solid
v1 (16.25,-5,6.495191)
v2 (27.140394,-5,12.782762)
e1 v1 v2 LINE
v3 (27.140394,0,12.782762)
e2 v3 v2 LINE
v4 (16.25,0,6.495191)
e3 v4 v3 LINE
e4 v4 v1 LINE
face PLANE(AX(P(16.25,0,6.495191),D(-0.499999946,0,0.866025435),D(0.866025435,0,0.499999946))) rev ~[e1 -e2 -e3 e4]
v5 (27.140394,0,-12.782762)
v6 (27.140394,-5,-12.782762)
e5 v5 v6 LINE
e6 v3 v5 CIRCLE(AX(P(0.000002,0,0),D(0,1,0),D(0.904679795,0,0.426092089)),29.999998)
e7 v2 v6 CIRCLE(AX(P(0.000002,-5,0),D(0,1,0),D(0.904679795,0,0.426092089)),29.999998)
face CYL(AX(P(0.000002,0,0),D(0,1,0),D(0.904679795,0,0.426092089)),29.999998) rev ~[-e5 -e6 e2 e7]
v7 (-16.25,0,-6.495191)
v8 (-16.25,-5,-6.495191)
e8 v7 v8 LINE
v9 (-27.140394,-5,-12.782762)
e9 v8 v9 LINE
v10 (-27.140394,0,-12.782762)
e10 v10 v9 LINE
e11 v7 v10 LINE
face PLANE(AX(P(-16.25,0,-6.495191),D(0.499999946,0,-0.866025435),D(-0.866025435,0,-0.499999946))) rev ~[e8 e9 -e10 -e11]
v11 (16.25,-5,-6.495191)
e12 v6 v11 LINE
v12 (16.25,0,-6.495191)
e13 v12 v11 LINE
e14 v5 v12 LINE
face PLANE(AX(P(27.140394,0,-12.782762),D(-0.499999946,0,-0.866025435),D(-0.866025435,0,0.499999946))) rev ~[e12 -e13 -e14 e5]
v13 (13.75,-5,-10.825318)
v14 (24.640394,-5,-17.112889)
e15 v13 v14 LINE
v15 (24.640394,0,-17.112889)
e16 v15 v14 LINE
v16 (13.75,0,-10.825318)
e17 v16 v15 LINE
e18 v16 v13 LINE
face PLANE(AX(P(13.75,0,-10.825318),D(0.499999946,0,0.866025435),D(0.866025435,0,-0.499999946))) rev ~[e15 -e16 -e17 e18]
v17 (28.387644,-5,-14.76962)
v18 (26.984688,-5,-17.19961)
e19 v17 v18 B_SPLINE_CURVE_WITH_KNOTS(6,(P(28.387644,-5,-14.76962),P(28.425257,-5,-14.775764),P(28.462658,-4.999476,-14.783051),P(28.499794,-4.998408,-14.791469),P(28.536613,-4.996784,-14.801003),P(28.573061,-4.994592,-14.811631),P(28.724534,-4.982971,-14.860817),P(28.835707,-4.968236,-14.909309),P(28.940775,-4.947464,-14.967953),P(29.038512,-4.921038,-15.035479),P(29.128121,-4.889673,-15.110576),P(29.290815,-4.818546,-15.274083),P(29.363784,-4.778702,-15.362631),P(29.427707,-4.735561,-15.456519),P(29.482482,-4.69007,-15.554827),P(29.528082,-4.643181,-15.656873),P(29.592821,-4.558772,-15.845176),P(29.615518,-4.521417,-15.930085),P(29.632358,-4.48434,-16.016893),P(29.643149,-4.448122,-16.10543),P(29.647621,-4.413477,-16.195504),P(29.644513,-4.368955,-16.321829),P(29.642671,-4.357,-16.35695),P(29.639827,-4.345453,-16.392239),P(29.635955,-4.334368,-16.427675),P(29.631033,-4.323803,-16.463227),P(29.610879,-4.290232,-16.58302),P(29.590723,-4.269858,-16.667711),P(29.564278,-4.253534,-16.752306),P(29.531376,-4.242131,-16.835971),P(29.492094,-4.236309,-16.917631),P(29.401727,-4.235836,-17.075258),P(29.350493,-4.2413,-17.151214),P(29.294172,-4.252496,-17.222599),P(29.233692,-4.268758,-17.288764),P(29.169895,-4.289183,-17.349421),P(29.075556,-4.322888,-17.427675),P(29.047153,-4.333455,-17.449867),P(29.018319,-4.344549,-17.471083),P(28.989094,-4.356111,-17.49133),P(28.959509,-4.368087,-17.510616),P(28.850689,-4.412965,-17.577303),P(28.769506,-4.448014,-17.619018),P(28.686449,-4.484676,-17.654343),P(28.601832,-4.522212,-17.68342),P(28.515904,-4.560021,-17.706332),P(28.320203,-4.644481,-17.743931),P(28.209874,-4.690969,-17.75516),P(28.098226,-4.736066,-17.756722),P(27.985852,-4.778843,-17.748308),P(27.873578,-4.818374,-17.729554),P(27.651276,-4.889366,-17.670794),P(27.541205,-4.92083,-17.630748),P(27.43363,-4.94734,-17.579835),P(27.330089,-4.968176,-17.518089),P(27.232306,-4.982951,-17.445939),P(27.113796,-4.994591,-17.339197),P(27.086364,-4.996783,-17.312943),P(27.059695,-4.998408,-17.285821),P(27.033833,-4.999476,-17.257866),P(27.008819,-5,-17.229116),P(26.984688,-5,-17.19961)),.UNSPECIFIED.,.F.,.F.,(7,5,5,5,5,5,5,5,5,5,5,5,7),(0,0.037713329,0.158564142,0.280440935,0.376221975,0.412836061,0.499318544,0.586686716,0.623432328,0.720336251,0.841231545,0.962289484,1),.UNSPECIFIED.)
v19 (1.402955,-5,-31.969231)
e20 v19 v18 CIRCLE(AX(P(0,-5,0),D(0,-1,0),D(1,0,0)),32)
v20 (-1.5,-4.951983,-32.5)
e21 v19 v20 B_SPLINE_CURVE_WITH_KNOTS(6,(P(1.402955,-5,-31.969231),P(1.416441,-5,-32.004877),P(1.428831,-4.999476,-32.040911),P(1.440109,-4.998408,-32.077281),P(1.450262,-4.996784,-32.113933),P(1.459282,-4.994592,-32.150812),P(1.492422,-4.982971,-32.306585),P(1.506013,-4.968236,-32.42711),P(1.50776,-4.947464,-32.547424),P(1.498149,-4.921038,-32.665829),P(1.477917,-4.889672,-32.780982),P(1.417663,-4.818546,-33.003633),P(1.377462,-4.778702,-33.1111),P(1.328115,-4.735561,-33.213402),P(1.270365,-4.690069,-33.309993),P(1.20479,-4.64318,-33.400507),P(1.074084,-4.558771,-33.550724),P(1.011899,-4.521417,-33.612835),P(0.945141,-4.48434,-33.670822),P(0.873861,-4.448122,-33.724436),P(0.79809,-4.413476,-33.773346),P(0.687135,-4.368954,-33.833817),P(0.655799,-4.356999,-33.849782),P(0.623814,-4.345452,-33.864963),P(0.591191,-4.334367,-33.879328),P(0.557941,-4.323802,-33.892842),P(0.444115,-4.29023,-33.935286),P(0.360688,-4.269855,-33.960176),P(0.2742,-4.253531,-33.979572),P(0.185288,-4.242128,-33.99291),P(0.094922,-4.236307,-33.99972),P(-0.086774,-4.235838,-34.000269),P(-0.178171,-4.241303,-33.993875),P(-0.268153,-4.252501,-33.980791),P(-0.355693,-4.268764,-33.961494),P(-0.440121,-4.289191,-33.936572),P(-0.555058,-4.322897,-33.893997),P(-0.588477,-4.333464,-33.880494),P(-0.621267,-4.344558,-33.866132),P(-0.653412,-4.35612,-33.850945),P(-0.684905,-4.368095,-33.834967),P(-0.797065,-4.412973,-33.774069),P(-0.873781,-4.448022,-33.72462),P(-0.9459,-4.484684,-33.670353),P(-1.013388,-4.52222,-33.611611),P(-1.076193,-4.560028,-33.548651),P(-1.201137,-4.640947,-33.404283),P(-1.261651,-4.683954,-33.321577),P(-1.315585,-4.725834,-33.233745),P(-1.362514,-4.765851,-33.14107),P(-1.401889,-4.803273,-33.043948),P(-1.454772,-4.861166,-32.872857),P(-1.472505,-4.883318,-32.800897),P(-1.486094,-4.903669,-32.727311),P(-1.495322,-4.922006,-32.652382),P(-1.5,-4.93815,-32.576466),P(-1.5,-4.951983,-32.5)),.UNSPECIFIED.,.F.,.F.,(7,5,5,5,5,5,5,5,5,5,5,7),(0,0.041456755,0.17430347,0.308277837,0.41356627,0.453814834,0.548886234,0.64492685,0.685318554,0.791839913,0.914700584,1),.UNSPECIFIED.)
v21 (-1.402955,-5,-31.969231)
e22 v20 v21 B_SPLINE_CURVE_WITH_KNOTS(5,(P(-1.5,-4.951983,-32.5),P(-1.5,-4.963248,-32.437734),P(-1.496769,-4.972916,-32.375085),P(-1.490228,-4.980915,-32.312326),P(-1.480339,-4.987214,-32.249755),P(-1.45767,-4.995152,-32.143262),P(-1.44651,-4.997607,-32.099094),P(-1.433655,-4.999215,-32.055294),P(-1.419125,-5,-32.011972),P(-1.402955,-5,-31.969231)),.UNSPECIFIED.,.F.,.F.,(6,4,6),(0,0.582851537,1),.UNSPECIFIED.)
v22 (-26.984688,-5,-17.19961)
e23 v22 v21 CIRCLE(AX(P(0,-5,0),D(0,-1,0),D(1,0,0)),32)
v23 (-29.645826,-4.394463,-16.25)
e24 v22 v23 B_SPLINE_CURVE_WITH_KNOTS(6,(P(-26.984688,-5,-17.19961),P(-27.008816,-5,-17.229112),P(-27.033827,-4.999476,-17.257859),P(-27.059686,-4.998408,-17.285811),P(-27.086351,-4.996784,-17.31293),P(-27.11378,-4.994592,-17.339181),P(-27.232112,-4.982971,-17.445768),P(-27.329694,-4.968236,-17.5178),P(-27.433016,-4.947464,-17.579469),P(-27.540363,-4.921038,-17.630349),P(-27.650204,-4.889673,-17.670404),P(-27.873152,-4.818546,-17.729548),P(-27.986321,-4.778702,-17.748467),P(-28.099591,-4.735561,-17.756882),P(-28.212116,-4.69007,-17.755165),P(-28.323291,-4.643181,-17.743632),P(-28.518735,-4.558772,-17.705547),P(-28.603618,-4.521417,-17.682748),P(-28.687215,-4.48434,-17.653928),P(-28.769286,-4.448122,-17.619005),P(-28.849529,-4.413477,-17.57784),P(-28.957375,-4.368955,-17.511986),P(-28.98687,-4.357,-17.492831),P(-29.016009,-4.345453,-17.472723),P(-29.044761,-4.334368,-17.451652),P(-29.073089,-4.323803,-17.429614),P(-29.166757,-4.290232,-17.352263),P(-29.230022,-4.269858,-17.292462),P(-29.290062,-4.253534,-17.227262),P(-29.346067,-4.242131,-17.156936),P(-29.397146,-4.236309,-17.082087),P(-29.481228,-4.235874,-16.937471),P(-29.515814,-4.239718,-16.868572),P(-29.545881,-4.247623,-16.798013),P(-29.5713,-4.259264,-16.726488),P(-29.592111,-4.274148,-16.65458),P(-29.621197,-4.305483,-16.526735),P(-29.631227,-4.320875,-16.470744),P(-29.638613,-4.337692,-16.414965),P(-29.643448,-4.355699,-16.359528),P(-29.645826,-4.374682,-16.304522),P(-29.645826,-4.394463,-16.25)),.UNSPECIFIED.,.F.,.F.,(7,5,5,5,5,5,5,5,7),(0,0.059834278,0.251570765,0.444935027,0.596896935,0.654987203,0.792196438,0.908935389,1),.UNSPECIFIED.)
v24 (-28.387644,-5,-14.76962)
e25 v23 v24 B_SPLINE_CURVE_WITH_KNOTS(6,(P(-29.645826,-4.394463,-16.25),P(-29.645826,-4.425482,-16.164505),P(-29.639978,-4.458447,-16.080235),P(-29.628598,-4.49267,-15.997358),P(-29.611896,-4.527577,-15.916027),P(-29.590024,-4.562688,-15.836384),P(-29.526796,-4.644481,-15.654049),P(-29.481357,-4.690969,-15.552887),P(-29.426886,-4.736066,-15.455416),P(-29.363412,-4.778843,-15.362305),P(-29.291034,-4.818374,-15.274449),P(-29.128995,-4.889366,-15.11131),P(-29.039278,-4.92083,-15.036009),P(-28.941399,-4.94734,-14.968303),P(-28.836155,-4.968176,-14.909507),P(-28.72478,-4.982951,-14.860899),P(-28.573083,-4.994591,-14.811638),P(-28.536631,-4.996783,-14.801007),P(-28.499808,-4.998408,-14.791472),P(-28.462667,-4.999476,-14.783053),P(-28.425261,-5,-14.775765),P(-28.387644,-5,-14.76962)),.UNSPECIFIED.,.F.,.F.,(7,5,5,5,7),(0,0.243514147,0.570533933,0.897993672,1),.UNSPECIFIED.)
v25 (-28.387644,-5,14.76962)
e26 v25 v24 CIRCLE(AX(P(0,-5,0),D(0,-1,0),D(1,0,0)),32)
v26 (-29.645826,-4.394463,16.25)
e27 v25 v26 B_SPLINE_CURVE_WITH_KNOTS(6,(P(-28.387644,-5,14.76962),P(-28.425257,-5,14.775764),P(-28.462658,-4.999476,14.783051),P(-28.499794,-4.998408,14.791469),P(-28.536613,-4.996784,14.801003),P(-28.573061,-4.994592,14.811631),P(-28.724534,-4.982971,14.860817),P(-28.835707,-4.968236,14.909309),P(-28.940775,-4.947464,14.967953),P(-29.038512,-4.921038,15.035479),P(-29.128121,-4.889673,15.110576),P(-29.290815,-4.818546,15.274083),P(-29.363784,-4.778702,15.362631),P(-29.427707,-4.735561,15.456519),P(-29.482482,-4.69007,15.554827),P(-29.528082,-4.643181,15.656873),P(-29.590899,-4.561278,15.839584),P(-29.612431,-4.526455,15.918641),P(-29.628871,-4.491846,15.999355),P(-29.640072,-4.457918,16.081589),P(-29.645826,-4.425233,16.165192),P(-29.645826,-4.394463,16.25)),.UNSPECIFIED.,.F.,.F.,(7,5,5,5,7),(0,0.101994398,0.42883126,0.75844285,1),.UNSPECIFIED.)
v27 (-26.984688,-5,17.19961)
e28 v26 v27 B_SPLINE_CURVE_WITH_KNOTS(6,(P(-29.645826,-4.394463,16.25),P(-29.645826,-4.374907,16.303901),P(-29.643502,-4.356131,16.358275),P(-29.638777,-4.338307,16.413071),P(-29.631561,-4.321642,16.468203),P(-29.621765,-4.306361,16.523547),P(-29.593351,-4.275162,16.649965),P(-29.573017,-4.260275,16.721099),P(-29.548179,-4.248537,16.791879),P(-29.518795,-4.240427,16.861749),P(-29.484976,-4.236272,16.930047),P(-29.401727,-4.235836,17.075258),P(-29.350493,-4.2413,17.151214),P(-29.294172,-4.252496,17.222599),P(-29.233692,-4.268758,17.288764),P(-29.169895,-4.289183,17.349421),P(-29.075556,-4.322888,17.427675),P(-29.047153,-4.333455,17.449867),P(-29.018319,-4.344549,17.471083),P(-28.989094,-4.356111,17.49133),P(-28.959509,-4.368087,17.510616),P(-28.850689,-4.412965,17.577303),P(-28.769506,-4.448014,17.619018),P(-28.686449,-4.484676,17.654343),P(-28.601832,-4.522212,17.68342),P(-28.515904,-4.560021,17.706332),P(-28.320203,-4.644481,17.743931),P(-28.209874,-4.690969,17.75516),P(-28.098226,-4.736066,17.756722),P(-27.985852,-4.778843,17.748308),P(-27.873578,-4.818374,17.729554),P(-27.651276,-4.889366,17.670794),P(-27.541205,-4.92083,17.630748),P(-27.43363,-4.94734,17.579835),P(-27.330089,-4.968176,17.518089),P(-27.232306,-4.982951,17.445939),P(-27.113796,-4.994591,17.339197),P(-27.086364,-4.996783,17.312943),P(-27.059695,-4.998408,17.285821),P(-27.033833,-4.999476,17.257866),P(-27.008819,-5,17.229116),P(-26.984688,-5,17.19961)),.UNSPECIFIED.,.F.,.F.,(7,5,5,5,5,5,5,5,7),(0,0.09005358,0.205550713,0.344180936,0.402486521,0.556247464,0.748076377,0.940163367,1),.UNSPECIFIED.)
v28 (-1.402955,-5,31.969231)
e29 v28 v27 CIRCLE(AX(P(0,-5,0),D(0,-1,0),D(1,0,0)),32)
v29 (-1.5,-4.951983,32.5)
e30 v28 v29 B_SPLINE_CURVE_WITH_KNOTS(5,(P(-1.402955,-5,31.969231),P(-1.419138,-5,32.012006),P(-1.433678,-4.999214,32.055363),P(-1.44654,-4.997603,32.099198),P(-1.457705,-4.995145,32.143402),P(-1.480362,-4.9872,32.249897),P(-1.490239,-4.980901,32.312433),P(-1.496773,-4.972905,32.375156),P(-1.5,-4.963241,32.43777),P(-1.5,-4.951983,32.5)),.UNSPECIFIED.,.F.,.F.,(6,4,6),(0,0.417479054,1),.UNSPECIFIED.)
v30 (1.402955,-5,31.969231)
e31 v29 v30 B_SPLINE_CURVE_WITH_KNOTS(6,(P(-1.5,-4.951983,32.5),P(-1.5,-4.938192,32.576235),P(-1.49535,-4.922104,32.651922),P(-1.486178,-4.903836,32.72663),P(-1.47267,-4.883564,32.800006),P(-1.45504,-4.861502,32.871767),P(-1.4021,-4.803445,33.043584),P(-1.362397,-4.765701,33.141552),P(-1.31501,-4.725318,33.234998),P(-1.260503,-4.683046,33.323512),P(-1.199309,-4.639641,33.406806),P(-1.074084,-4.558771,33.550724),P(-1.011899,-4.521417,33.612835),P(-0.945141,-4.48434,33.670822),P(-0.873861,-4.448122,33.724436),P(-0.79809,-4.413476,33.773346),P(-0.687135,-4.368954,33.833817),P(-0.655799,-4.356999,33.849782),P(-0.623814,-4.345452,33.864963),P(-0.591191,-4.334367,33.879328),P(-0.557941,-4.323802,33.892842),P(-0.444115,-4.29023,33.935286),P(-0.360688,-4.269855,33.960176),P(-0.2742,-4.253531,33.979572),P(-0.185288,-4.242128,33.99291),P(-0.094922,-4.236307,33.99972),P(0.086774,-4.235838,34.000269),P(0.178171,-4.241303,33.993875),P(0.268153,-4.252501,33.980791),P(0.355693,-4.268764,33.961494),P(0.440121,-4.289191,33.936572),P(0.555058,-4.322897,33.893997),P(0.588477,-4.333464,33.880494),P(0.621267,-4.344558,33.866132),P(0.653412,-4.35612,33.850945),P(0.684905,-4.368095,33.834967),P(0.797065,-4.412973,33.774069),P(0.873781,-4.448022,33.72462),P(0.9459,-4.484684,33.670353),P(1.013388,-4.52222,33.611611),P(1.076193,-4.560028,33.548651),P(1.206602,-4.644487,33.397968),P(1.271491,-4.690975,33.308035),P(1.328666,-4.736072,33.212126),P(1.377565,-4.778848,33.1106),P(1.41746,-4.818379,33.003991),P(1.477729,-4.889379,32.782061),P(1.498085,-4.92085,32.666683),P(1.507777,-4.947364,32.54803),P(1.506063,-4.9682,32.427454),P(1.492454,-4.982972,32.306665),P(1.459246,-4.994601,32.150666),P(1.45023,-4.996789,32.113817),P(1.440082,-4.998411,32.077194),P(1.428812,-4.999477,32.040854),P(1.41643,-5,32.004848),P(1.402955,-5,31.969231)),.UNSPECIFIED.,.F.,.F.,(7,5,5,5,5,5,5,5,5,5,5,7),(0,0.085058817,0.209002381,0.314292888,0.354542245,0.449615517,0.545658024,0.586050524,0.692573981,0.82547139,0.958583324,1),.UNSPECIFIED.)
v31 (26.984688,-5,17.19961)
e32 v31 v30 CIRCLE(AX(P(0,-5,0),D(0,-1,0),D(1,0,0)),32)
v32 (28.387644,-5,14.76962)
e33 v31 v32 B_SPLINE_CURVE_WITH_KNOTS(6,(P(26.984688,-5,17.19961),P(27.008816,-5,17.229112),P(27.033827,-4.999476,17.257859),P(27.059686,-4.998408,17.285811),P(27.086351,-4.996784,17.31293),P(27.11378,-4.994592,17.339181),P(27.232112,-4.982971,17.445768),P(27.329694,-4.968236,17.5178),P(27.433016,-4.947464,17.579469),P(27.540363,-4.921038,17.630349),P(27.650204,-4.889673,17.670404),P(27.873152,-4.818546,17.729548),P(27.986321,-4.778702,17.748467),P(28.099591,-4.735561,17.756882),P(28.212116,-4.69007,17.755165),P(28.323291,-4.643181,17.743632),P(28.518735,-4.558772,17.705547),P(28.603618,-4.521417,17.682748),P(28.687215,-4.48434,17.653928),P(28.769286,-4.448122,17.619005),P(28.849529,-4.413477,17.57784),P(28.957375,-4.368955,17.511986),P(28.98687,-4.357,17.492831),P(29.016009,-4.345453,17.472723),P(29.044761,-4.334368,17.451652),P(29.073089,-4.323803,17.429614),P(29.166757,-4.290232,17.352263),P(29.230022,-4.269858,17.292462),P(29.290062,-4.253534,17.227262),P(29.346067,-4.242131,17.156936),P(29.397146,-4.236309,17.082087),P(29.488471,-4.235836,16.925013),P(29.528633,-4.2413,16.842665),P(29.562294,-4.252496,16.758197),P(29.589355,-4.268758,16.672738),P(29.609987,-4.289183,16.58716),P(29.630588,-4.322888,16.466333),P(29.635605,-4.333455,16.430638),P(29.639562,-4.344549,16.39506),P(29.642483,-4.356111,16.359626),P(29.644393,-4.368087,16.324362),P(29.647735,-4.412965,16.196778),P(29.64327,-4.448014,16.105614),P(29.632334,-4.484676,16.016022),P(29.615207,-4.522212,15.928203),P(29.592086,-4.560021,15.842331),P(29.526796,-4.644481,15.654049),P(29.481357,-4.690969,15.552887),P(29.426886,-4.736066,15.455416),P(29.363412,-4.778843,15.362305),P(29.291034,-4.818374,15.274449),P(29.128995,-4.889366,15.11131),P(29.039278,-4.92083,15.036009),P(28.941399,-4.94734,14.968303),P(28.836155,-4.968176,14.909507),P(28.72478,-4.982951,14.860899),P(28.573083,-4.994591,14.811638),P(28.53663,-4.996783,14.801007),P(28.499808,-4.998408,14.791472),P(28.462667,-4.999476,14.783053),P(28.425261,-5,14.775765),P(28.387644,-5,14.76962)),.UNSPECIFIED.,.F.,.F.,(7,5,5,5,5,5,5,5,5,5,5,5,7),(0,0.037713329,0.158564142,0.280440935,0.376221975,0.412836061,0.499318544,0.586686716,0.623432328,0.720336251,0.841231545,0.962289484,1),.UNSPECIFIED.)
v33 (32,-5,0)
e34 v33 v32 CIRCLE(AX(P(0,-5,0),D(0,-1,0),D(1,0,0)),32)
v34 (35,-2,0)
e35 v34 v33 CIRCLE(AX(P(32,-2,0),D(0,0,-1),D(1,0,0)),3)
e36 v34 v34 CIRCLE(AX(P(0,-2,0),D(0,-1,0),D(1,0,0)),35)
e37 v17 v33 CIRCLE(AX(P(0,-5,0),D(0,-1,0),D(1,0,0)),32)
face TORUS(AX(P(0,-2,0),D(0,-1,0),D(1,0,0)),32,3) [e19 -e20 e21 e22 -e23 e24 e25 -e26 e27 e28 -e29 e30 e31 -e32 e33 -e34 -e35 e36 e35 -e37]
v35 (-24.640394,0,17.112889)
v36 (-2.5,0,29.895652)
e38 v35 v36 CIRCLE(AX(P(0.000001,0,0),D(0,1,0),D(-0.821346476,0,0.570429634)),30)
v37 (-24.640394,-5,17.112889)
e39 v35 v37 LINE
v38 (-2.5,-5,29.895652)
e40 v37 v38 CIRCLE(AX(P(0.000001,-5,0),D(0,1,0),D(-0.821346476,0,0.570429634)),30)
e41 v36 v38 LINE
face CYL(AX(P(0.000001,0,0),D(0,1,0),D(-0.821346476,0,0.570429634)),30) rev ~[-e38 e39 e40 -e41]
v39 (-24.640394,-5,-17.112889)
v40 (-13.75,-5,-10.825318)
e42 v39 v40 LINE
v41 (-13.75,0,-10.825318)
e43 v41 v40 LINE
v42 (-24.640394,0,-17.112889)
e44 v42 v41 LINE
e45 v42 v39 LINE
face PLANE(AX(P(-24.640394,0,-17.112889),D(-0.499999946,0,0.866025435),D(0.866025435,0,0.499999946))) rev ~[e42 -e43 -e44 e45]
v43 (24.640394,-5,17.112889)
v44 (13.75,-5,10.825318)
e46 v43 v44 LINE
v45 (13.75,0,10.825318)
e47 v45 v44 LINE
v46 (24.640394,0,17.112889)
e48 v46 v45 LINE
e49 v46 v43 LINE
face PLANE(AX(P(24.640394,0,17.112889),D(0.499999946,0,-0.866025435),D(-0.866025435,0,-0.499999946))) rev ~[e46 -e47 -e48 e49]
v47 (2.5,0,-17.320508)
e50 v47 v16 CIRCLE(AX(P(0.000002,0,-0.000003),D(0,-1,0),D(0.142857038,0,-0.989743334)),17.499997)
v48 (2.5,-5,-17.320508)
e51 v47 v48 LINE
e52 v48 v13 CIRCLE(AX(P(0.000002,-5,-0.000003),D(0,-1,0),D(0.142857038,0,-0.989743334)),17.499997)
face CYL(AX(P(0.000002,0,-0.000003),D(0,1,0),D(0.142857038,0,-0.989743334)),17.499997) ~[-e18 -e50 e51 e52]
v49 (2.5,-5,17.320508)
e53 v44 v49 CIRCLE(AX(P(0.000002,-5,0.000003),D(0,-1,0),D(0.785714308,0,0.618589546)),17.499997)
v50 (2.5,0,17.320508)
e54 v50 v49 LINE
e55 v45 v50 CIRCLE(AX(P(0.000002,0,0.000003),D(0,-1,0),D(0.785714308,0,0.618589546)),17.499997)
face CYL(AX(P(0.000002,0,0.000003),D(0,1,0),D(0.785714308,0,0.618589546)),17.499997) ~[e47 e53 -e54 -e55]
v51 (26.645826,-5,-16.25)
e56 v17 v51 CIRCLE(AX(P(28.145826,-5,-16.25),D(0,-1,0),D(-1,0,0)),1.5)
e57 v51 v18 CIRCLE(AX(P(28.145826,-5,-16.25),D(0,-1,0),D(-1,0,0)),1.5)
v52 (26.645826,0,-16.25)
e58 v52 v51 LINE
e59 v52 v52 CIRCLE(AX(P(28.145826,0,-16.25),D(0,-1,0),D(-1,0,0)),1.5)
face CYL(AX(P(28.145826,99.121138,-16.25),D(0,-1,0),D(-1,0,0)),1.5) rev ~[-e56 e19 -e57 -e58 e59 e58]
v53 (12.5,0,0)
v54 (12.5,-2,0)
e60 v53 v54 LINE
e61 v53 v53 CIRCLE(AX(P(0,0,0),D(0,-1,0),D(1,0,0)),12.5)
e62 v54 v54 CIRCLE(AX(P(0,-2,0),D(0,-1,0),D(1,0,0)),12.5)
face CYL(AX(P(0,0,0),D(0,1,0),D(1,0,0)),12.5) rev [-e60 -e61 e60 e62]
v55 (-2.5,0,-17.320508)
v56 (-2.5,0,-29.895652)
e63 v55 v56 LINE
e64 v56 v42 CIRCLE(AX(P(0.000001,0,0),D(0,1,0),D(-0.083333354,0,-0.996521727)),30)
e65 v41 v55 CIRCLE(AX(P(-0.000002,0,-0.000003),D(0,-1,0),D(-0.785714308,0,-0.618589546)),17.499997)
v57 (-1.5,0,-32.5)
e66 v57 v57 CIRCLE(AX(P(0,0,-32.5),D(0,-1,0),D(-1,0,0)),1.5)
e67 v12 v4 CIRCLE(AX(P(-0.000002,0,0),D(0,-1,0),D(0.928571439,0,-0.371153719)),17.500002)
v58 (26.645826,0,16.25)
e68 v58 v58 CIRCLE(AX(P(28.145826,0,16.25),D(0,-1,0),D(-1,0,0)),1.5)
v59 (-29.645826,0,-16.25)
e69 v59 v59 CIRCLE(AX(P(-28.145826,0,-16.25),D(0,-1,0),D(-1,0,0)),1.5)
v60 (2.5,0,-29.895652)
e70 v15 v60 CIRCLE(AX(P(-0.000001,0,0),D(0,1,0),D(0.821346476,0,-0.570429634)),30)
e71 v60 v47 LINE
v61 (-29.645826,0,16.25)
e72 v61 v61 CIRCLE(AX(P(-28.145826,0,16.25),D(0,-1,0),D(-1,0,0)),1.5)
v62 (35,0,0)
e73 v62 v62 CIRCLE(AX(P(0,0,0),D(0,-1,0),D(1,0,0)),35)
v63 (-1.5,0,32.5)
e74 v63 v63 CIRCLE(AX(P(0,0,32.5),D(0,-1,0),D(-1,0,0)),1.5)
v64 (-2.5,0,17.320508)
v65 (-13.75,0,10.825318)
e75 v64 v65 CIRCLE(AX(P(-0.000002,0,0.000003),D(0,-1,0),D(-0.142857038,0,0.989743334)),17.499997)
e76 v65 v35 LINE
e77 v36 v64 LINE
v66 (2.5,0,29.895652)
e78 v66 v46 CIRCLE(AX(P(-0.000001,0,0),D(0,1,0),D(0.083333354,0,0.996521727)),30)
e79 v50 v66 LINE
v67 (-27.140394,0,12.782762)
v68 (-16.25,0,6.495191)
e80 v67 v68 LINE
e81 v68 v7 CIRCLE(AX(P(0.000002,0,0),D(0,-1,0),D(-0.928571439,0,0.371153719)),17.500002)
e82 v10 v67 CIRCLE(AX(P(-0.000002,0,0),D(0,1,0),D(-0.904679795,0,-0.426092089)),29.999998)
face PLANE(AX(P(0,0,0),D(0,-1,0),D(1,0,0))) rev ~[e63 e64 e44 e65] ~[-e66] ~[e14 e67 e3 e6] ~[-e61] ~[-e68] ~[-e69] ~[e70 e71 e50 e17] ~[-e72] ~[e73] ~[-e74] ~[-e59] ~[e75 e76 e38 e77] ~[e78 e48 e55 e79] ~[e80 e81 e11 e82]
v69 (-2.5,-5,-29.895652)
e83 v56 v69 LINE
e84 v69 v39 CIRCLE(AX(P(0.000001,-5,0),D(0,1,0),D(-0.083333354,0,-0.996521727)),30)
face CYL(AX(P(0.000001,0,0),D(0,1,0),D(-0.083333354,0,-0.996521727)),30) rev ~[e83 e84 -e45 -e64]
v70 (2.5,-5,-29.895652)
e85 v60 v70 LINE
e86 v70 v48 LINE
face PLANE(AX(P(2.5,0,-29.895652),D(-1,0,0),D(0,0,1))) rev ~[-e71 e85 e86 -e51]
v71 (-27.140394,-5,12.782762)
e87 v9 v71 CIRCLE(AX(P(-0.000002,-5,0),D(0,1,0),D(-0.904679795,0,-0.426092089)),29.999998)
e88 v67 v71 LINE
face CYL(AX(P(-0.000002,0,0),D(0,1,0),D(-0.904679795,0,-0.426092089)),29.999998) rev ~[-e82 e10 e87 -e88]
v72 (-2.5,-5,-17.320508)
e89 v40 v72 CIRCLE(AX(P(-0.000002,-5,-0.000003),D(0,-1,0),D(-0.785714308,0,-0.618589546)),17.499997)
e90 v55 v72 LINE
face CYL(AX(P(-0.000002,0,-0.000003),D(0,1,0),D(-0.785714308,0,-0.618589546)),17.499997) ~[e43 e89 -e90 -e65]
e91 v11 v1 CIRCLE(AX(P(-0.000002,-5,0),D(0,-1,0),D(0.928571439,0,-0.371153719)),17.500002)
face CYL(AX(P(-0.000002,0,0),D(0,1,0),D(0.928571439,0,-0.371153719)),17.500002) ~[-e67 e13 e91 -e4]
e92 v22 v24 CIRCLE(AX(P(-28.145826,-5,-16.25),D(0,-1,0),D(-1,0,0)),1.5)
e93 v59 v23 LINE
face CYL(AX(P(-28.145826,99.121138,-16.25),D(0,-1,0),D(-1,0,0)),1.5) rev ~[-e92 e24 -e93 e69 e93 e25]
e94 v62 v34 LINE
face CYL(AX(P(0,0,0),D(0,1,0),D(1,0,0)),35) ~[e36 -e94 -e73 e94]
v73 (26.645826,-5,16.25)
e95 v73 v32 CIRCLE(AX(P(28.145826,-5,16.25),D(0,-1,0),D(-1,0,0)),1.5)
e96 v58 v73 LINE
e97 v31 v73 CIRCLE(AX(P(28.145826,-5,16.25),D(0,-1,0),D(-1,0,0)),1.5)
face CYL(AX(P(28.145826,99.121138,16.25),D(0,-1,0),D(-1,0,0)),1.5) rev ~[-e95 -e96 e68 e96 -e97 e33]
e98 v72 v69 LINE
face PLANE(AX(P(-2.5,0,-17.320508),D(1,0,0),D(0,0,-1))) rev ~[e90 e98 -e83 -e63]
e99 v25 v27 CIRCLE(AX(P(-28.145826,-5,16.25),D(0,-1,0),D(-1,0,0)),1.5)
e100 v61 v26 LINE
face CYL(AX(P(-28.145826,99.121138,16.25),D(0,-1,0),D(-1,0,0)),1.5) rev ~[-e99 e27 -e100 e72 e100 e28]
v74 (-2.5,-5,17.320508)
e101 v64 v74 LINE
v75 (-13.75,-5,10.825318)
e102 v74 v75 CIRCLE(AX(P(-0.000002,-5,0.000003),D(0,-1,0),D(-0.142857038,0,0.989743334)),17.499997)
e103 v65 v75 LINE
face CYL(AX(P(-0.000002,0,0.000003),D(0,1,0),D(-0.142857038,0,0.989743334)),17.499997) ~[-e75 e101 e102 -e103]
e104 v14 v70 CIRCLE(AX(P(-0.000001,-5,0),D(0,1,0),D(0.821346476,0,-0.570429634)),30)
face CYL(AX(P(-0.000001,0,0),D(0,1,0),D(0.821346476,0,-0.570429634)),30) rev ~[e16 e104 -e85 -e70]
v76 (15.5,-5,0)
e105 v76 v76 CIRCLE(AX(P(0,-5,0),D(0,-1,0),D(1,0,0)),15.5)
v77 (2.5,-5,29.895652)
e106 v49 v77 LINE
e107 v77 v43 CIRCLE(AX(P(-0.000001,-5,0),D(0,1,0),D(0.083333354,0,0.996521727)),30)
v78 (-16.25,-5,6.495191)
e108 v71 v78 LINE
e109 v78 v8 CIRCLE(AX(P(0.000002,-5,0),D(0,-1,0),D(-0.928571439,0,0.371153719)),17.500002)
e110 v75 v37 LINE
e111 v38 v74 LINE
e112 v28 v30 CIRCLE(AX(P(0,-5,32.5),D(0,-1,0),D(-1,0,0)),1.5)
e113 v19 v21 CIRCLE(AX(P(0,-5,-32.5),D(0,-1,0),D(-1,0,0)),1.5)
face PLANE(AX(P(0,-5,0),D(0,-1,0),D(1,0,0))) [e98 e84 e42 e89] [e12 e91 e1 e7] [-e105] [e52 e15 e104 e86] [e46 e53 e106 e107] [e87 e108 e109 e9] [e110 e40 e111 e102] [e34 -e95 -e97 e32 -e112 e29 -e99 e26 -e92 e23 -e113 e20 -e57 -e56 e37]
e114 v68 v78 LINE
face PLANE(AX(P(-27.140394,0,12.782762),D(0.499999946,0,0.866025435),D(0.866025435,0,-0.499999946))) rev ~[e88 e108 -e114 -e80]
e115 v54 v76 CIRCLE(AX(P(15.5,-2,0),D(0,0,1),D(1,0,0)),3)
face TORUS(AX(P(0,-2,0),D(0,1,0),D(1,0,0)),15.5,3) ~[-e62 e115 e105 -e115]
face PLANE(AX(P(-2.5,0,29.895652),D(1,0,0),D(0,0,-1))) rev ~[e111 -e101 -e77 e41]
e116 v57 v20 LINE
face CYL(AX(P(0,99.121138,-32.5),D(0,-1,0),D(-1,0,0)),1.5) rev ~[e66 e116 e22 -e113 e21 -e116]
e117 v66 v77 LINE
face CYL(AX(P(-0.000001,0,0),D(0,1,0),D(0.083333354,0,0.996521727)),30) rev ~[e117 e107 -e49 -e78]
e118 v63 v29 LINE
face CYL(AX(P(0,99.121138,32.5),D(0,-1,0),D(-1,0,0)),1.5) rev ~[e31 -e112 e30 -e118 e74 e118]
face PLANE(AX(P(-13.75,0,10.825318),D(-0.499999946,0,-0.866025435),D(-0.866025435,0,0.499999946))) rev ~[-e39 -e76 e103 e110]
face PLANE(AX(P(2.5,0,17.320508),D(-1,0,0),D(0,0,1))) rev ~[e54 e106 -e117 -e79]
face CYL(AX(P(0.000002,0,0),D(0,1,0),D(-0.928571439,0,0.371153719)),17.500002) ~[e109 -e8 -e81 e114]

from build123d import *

# Parameters (mm, degrees)
F0_R     = 35
F0_R_2   = 12.5
F1_DEPTH = 5
F2_R     = 3
F3_D     = 3


with BuildPart() as f1:
    # F0 (on Front) → F1 (new body)
    with BuildSketch(Plane.XZ):
        Circle(F0_R)
        with BuildLine():
            Line((-24.640394, -17.112889), (-13.75, -10.825318))
            ThreePointArc((-13.75, -10.825318), (-8.75, -15.155445), (-2.5, -17.320508))
            Line((-2.5, -17.320508), (-2.5, -29.895652))
            ThreePointArc((-2.5, -29.895652), (-15, -25.980762), (-24.640394, -17.112889))
        make_face(mode=Mode.SUBTRACT)
        with BuildLine():
            Line((2.5, -29.895652), (2.5, -17.320508))
            ThreePointArc((2.5, -17.320508), (8.75, -15.155445), (13.75, -10.825318))
            Line((13.75, -10.825318), (24.640394, -17.112889))
            ThreePointArc((24.640394, -17.112889), (15, -25.980762), (2.5, -29.895652))
        make_face(mode=Mode.SUBTRACT)
        with BuildLine():
            Line((27.140394, -12.782762), (16.25, -6.495191))
            ThreePointArc((16.25, -6.495191), (17.5, 0), (16.25, 6.495191))
            Line((16.25, 6.495191), (27.140394, 12.782762))
            ThreePointArc((27.140394, 12.782762), (30, 0), (27.140394, -12.782762))
        make_face(mode=Mode.SUBTRACT)
        with BuildLine():
            ThreePointArc((-27.140394, -12.782762), (-30, 0), (-27.140394, 12.782762))
            Line((-27.140394, 12.782762), (-16.25, 6.495191))
            ThreePointArc((-16.25, 6.495191), (-17.5, 0), (-16.25, -6.495191))
            Line((-16.25, -6.495191), (-27.140394, -12.782762))
        make_face(mode=Mode.SUBTRACT)
        with BuildLine():
            Line((-2.5, 29.895652), (-2.5, 17.320508))
            ThreePointArc((-2.5, 17.320508), (-8.75, 15.155445), (-13.75, 10.825318))
            Line((-13.75, 10.825318), (-24.640394, 17.112889))
            ThreePointArc((-24.640394, 17.112889), (-15, 25.980762), (-2.5, 29.895652))
        make_face(mode=Mode.SUBTRACT)
        Circle(F0_R_2, mode=Mode.SUBTRACT)
        with BuildLine():
            ThreePointArc((13.75, 10.825318), (8.75, 15.155445), (2.5, 17.320508))
            Line((2.5, 17.320508), (2.5, 29.895652))
            ThreePointArc((2.5, 29.895652), (15, 25.980762), (24.640394, 17.112889))
            Line((24.640394, 17.112889), (13.75, 10.825318))
        make_face(mode=Mode.SUBTRACT)
    extrude(amount=F1_DEPTH)

    # F2
    f2_edges = [f1.edges().sort_by_distance(p)[0] for p in [
        (-35, -5, 0),
        (-12.5, -5, 0),
    ]]
    fillet(f2_edges, radius=F2_R)

    # F3 (through all)
    with Locations(Plane(origin=(0, 0, 0), x_dir=(1, 0, 0), z_dir=(0, 1, 0))):
        with Locations((-28.145826, -16.25), (-28.145826, 16.25), (0, 32.5), (28.145826, 16.25), (28.145826, -16.25), (0, -32.5)):
            Hole(F3_D / 2)


solid = f1.part
